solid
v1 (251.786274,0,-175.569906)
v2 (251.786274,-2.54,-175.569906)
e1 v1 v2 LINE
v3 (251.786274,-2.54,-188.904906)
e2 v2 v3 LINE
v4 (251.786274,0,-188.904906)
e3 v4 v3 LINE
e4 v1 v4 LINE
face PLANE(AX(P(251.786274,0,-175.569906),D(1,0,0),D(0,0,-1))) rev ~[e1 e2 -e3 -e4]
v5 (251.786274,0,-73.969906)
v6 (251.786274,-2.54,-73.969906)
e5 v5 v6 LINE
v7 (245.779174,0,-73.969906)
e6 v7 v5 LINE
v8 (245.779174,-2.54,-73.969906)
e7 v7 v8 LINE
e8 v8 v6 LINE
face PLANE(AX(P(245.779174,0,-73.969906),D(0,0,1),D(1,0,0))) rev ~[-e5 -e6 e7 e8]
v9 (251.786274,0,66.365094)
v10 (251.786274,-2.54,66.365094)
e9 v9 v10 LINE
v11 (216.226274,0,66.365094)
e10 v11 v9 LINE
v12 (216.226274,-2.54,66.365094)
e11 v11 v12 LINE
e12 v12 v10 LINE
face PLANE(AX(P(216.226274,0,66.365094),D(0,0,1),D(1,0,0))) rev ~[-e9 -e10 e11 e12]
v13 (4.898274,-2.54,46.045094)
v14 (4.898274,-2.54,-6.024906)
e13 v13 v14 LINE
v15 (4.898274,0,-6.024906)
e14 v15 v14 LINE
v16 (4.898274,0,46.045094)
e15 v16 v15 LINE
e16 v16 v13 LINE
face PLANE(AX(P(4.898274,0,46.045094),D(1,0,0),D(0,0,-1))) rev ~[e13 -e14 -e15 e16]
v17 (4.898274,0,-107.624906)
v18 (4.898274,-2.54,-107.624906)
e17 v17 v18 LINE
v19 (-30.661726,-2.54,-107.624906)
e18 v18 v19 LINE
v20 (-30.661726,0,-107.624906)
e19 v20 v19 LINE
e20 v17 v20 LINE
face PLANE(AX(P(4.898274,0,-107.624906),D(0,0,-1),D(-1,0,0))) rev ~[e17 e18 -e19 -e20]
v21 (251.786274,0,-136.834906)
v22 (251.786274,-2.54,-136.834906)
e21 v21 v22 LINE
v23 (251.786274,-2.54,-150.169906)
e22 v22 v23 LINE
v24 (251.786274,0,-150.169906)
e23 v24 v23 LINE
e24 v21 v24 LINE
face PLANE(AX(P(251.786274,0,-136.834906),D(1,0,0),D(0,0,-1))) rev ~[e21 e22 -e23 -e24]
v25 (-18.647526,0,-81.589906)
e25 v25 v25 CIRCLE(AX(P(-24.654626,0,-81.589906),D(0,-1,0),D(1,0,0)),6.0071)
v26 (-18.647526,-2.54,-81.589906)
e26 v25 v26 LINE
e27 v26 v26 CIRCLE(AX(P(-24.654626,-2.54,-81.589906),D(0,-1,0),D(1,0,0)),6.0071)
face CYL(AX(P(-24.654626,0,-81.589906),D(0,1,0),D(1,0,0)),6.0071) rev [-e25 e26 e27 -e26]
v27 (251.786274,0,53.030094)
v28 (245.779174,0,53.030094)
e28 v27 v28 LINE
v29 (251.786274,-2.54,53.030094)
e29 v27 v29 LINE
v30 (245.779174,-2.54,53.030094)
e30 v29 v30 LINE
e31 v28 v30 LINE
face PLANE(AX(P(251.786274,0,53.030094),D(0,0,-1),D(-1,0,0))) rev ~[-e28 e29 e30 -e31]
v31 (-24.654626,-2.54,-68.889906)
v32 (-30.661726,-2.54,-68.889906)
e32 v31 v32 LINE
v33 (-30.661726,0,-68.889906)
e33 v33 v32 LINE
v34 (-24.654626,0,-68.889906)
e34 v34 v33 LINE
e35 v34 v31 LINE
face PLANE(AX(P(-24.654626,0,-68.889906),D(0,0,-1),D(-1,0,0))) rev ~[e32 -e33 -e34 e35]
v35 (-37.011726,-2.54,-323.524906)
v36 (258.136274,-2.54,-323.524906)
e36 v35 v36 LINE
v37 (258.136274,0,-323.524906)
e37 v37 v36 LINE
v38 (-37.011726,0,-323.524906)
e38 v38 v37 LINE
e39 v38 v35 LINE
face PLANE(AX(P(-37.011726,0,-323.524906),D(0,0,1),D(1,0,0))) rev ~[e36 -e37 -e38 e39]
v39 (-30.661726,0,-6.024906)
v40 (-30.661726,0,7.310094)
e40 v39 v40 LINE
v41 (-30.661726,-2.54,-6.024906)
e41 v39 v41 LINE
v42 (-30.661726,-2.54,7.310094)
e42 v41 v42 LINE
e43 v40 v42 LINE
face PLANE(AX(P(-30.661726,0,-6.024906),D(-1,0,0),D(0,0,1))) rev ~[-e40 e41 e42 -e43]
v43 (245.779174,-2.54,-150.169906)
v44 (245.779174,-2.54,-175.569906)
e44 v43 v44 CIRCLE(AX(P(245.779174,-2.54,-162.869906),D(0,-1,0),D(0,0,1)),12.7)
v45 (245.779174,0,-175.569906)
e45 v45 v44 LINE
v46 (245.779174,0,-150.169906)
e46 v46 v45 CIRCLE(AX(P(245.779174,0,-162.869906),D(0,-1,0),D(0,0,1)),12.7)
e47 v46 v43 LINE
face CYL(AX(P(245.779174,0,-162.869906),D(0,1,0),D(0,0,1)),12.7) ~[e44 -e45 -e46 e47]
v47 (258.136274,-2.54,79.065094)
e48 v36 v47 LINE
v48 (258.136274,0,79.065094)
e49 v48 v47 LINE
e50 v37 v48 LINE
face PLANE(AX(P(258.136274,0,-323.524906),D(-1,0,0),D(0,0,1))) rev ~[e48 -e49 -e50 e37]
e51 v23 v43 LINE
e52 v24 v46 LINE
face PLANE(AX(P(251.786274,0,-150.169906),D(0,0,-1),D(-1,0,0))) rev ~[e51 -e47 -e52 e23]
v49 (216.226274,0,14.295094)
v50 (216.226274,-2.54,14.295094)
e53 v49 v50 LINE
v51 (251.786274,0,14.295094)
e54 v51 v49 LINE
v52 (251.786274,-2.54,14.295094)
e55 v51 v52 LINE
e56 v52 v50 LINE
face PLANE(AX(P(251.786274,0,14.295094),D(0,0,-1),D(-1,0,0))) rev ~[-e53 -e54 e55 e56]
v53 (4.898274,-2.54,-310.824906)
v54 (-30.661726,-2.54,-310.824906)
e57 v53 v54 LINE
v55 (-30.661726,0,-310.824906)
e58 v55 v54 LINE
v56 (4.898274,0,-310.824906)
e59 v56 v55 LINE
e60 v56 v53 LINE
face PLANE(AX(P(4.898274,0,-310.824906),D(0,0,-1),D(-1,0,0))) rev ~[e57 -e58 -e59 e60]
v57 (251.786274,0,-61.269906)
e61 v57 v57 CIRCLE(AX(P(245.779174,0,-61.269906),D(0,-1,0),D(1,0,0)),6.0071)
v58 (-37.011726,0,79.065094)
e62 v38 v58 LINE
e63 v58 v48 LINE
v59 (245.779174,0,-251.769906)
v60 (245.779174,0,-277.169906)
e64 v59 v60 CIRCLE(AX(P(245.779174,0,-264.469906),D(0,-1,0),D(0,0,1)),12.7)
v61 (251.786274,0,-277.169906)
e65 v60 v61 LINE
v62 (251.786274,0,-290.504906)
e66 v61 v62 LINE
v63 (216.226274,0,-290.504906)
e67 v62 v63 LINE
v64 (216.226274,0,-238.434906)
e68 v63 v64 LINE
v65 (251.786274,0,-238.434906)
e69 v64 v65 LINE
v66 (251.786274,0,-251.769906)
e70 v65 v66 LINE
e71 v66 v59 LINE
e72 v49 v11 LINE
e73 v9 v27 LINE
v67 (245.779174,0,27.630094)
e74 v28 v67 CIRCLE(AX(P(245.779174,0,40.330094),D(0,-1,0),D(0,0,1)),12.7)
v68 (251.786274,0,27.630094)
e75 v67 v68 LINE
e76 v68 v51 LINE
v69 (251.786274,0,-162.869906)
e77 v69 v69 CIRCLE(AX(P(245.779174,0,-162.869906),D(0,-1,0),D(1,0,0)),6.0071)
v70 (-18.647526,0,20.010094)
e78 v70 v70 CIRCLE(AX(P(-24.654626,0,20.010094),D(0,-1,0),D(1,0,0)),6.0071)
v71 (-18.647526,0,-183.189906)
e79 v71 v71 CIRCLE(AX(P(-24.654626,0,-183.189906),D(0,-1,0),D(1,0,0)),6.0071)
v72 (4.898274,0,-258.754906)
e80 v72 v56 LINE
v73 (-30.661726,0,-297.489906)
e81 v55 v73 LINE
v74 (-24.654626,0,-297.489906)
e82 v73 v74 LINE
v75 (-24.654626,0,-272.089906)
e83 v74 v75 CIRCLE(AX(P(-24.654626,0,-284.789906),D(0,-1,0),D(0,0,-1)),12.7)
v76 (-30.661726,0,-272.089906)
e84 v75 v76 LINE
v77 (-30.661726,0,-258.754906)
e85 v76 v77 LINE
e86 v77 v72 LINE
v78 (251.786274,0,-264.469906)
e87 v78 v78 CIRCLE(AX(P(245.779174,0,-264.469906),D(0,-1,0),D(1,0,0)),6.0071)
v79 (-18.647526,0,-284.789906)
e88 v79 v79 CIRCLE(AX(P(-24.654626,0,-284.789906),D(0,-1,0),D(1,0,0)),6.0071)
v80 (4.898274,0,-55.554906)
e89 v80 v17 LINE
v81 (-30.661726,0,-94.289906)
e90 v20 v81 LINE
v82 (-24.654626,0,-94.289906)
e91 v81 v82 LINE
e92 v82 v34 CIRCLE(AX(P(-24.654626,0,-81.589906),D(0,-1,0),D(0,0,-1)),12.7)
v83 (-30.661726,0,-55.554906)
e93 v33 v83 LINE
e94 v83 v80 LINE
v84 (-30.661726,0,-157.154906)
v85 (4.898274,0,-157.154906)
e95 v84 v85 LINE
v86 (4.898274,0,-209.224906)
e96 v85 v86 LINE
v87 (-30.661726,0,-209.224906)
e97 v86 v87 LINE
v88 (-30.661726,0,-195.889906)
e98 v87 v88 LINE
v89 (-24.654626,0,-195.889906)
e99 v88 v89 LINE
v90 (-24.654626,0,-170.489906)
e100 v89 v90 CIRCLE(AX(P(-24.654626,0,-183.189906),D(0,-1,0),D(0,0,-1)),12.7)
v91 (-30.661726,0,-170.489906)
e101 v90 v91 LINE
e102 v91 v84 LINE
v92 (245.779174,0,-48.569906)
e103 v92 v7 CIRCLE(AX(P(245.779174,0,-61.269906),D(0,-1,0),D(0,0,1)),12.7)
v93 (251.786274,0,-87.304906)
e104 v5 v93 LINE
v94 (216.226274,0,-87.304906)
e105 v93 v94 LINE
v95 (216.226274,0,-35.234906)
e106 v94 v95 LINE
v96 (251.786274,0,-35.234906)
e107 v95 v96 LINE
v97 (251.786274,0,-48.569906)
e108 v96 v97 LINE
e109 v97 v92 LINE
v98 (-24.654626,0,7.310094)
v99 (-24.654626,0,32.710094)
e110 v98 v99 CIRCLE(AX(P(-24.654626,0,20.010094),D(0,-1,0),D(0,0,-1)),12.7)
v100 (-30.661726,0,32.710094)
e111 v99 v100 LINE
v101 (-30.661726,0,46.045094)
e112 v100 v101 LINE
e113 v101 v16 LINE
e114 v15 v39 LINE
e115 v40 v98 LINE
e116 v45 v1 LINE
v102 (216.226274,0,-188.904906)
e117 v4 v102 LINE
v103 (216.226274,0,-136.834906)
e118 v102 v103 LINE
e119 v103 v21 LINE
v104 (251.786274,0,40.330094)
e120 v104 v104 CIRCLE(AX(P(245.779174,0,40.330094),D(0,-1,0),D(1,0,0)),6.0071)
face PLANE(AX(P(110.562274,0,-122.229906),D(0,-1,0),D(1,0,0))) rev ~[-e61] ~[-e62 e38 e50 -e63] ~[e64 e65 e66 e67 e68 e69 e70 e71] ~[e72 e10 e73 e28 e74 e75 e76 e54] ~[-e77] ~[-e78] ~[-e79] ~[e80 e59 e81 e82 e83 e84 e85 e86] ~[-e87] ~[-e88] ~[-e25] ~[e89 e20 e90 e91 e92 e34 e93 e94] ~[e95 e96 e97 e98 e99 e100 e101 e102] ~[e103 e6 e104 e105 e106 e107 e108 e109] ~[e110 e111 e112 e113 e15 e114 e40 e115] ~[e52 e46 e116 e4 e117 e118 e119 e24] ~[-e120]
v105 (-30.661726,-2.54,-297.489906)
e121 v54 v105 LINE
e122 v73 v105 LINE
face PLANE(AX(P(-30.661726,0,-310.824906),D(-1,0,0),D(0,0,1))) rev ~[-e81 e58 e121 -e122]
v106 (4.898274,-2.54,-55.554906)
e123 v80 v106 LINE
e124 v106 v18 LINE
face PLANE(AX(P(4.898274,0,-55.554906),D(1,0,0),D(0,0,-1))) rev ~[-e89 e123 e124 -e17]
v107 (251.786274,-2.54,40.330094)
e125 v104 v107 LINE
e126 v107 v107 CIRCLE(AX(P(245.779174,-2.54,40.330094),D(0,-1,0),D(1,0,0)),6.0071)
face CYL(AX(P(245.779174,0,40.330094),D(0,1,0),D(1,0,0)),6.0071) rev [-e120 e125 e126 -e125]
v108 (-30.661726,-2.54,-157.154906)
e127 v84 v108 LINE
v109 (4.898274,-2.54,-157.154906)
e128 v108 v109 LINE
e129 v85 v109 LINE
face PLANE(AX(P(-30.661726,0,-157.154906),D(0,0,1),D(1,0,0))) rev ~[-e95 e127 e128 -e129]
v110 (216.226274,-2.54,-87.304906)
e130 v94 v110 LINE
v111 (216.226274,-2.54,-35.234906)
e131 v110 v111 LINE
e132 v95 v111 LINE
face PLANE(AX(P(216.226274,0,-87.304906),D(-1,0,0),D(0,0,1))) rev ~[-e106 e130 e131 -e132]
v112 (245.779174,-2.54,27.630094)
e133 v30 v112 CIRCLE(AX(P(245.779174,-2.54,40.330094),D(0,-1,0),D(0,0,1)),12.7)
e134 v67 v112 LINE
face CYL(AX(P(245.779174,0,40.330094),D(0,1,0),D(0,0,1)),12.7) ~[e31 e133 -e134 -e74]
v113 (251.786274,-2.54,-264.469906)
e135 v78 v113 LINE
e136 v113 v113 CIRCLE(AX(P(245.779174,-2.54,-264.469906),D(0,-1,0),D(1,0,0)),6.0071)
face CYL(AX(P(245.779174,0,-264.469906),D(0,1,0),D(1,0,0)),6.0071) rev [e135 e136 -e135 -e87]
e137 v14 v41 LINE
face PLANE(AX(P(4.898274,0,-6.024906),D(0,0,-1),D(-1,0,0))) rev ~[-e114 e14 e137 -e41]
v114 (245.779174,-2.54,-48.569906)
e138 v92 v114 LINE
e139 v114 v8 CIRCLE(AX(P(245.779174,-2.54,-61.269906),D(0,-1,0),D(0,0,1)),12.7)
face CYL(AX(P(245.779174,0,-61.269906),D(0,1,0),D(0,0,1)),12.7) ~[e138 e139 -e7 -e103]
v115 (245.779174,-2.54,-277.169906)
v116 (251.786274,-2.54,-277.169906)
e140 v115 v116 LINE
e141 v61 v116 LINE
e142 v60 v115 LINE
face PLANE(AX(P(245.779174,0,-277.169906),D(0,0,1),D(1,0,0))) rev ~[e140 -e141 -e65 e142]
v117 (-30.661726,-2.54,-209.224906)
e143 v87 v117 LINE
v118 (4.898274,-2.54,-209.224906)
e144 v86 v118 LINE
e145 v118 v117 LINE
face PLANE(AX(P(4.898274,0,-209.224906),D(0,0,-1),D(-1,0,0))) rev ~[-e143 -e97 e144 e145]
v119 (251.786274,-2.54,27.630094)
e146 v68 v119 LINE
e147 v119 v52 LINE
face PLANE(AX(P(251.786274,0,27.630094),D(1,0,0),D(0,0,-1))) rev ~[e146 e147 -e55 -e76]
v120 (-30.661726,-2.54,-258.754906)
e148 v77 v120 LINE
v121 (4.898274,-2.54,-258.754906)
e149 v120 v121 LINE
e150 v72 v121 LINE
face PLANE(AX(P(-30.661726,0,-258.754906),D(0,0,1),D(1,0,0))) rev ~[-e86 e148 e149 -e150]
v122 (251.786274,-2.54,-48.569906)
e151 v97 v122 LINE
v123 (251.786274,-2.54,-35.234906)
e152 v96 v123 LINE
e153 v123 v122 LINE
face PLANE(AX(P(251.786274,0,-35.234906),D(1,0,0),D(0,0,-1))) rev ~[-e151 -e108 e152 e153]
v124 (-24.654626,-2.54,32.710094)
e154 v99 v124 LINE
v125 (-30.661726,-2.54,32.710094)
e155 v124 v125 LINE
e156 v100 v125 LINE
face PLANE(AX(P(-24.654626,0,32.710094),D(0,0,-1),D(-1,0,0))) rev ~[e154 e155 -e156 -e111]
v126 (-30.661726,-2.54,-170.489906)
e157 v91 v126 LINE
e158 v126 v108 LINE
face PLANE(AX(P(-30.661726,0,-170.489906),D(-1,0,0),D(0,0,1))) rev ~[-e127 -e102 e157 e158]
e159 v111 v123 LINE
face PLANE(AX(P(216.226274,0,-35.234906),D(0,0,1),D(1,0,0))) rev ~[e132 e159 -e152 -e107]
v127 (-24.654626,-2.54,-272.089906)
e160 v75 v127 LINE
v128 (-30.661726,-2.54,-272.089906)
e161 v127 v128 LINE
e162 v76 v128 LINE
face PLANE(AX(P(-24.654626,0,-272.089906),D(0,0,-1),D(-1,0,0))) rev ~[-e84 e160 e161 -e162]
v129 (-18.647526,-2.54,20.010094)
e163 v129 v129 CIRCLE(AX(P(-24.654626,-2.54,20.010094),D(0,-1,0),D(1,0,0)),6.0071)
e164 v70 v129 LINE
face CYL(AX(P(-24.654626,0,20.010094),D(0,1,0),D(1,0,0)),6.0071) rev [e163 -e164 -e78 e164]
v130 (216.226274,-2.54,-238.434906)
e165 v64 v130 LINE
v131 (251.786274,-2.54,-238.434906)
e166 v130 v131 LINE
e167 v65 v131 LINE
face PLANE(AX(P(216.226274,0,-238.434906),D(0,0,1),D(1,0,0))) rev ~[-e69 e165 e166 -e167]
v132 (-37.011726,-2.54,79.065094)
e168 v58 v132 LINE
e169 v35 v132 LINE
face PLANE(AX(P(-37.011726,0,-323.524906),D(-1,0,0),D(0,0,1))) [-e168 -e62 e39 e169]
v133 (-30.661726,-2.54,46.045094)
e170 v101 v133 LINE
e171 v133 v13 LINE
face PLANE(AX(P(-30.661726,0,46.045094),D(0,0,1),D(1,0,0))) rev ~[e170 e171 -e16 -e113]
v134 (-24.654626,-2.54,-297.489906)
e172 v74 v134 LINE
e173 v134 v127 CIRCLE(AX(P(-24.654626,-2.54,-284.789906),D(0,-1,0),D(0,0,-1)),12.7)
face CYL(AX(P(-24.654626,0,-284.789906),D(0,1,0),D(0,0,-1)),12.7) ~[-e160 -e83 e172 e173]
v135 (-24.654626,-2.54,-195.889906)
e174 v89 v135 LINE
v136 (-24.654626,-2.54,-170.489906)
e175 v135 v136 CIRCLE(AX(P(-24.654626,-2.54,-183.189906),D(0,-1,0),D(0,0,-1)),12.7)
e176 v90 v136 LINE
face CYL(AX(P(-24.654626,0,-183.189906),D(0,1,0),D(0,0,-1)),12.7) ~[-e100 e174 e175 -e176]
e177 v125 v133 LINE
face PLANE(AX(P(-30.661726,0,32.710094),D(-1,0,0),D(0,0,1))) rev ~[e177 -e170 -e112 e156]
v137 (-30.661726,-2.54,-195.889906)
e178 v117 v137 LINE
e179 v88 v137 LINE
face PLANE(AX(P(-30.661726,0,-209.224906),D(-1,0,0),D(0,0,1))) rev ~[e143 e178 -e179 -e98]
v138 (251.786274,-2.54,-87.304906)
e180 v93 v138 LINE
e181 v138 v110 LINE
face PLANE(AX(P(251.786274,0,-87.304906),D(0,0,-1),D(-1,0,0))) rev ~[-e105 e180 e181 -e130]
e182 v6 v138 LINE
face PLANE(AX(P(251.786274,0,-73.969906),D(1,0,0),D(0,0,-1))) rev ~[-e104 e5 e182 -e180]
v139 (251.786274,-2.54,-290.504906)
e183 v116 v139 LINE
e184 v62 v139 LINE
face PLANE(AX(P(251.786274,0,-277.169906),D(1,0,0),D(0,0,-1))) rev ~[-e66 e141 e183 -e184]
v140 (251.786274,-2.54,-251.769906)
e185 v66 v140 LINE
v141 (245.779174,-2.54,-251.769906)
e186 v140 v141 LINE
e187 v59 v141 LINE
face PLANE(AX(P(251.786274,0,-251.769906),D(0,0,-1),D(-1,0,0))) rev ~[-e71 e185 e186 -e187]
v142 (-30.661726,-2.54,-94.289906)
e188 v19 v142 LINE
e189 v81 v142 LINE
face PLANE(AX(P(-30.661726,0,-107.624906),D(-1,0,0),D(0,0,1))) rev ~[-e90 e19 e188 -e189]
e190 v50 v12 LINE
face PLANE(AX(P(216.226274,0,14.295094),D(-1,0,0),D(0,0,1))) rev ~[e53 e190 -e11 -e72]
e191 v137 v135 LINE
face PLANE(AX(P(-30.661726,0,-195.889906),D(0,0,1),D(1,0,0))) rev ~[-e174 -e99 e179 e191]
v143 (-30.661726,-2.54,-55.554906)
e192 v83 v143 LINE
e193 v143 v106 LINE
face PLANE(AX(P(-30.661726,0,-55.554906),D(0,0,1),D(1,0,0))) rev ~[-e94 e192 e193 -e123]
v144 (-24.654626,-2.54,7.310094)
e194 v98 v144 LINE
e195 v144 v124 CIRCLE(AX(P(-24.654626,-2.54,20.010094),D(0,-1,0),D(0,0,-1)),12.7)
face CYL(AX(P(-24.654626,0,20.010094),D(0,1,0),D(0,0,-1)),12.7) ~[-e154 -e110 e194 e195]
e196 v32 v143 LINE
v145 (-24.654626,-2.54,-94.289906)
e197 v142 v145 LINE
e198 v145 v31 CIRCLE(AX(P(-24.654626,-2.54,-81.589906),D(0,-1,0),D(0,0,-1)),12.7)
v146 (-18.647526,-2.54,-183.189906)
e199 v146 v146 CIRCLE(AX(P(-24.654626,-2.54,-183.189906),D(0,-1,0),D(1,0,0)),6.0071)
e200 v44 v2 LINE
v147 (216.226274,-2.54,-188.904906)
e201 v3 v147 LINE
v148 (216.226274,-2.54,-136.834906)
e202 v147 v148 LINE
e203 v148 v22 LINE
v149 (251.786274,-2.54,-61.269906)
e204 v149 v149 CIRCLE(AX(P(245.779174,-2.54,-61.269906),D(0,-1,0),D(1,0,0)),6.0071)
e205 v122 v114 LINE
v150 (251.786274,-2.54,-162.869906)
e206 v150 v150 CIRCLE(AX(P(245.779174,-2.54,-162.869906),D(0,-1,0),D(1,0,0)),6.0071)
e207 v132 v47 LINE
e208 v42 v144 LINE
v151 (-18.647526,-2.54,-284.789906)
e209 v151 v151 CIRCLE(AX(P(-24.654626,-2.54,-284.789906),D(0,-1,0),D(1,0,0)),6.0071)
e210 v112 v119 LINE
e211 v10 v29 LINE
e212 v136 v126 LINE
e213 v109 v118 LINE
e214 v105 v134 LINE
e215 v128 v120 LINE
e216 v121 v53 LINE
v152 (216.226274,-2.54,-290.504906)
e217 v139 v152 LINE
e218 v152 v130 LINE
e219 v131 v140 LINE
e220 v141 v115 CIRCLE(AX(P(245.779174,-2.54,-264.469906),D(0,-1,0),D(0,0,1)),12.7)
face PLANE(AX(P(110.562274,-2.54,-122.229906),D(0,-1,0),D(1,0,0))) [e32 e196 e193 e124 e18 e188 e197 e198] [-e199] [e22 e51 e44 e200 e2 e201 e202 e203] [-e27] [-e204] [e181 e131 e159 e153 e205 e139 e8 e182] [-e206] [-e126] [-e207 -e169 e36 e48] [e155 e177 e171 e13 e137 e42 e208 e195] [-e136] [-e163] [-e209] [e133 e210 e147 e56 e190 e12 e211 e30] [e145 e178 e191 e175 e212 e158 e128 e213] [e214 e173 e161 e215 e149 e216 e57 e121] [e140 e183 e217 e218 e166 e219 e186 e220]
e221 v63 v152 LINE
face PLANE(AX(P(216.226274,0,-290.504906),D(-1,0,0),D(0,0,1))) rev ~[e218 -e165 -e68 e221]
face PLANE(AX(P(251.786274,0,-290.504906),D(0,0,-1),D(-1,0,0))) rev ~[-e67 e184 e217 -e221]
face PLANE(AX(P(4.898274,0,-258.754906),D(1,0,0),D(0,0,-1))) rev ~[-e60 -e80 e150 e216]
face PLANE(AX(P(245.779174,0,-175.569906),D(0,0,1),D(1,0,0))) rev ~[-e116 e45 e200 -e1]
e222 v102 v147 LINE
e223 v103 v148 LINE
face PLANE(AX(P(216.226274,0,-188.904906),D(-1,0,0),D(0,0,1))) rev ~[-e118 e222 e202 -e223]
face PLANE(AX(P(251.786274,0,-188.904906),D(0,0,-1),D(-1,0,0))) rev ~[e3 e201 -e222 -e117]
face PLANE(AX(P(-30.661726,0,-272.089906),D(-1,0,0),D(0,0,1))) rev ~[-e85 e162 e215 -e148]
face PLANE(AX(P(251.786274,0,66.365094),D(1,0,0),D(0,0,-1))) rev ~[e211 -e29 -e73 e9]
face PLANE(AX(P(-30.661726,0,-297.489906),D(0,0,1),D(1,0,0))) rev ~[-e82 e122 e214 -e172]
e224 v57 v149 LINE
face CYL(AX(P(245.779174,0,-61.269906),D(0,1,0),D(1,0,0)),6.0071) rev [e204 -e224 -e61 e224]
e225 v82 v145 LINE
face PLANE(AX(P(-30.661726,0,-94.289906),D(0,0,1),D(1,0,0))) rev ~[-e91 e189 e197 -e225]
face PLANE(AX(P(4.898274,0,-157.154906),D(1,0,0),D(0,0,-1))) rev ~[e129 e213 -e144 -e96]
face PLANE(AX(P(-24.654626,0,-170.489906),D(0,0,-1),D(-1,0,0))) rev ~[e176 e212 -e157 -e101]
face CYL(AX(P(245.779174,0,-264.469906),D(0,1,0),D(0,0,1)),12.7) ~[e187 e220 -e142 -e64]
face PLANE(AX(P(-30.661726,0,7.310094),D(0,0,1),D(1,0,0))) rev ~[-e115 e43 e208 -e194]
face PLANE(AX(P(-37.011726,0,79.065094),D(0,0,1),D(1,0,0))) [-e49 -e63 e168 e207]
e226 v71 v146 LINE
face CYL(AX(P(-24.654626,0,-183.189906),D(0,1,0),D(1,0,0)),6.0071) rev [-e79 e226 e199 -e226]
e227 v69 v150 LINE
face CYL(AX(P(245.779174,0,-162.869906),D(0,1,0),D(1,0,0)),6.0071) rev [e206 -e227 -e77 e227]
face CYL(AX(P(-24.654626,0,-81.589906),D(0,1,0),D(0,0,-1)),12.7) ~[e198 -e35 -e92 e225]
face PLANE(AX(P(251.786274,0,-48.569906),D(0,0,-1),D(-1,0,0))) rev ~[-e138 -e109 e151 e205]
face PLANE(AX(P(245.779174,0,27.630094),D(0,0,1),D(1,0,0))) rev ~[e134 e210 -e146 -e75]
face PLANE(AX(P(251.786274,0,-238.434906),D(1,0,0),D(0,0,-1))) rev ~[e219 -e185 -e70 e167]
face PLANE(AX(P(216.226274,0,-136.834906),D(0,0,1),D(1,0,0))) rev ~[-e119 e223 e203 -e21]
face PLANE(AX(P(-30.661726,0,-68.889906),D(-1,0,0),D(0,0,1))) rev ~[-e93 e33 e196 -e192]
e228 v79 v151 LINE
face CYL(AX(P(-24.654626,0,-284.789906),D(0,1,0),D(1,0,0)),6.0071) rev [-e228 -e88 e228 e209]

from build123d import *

# Parameters (mm, degrees)
F0_W     = 295.148
F0_H     = 402.59
F0_R     = 6.0071
F1_DEPTH = 2.54


with BuildPart() as f1:
    # F0 (on Front) → F1 (new body)
    with BuildSketch(Plane.XZ):
        with Locations((110.562274, -122.229906)):
            Rectangle(F0_W, F0_H)
        with Locations((-24.654626, -284.789906)):
            Circle(F0_R, mode=Mode.SUBTRACT)
        with BuildLine():
            Line((-30.661726, -258.754906), (4.898274, -258.754906))
            Line((4.898274, -258.754906), (4.898274, -310.824906))
            Line((4.898274, -310.824906), (-30.661726, -310.824906))
            Line((-30.661726, -310.824906), (-30.661726, -297.489906))
            Line((-30.661726, -297.489906), (-24.654626, -297.489906))
            ThreePointArc((-24.654626, -297.489906), (-11.954626, -284.789906), (-24.654626, -272.089906))
            Line((-24.654626, -272.089906), (-30.661726, -272.089906))
            Line((-30.661726, -272.089906), (-30.661726, -258.754906))
        make_face(mode=Mode.SUBTRACT)
        with Locations((-24.654626, -183.189906)):
            Circle(F0_R, mode=Mode.SUBTRACT)
        with BuildLine():
            Line((-30.661726, -157.154906), (4.898274, -157.154906))
            Line((4.898274, -157.154906), (4.898274, -209.224906))
            Line((4.898274, -209.224906), (-30.661726, -209.224906))
            Line((-30.661726, -209.224906), (-30.661726, -195.889906))
            Line((-30.661726, -195.889906), (-24.654626, -195.889906))
            ThreePointArc((-24.654626, -195.889906), (-11.954626, -183.189906), (-24.654626, -170.489906))
            Line((-24.654626, -170.489906), (-30.661726, -170.489906))
            Line((-30.661726, -170.489906), (-30.661726, -157.154906))
        make_face(mode=Mode.SUBTRACT)
        with BuildLine():
            Line((251.786274, -290.504906), (216.226274, -290.504906))
            Line((216.226274, -290.504906), (216.226274, -238.434906))
            Line((216.226274, -238.434906), (251.786274, -238.434906))
            Line((251.786274, -238.434906), (251.786274, -251.769906))
            Line((251.786274, -251.769906), (245.779174, -251.769906))
            ThreePointArc((245.779174, -251.769906), (233.079174, -264.469906), (245.779174, -277.169906))
            Line((245.779174, -277.169906), (251.786274, -277.169906))
            Line((251.786274, -277.169906), (251.786274, -290.504906))
        make_face(mode=Mode.SUBTRACT)
        with Locations((245.779174, -264.469906)):
            Circle(F0_R, mode=Mode.SUBTRACT)
        with BuildLine():
            Line((251.786274, -150.169906), (245.779174, -150.169906))
            ThreePointArc((245.779174, -150.169906), (233.079174, -162.869906), (245.779174, -175.569906))
            Line((245.779174, -175.569906), (251.786274, -175.569906))
            Line((251.786274, -175.569906), (251.786274, -188.904906))
            Line((251.786274, -188.904906), (216.226274, -188.904906))
            Line((216.226274, -188.904906), (216.226274, -136.834906))
            Line((216.226274, -136.834906), (251.786274, -136.834906))
            Line((251.786274, -136.834906), (251.786274, -150.169906))
        make_face(mode=Mode.SUBTRACT)
        with Locations((245.779174, -162.869906)):
            Circle(F0_R, mode=Mode.SUBTRACT)
        with Locations((-24.654626, -81.589906)):
            Circle(F0_R, mode=Mode.SUBTRACT)
        with BuildLine():
            Line((-30.661726, -55.554906), (4.898274, -55.554906))
            Line((4.898274, -55.554906), (4.898274, -107.624906))
            Line((4.898274, -107.624906), (-30.661726, -107.624906))
            Line((-30.661726, -107.624906), (-30.661726, -94.289906))
            Line((-30.661726, -94.289906), (-24.654626, -94.289906))
            ThreePointArc((-24.654626, -94.289906), (-11.954626, -81.589906), (-24.654626, -68.889906))
            Line((-24.654626, -68.889906), (-30.661726, -68.889906))
            Line((-30.661726, -68.889906), (-30.661726, -55.554906))
        make_face(mode=Mode.SUBTRACT)
        with Locations((-24.654626, 20.010094)):
            Circle(F0_R, mode=Mode.SUBTRACT)
        with BuildLine():
            Line((-30.661726, 32.710094), (-30.661726, 46.045094))
            Line((-30.661726, 46.045094), (4.898274, 46.045094))
            Line((4.898274, 46.045094), (4.898274, -6.024906))
            Line((4.898274, -6.024906), (-30.661726, -6.024906))
            Line((-30.661726, -6.024906), (-30.661726, 7.310094))
            Line((-30.661726, 7.310094), (-24.654626, 7.310094))
            ThreePointArc((-24.654626, 7.310094), (-11.954626, 20.010094), (-24.654626, 32.710094))
            Line((-24.654626, 32.710094), (-30.661726, 32.710094))
        make_face(mode=Mode.SUBTRACT)
        with BuildLine():
            Line((216.226274, -35.234906), (251.786274, -35.234906))
            Line((251.786274, -35.234906), (251.786274, -48.569906))
            Line((251.786274, -48.569906), (245.779174, -48.569906))
            ThreePointArc((245.779174, -48.569906), (233.079174, -61.269906), (245.779174, -73.969906))
            Line((245.779174, -73.969906), (251.786274, -73.969906))
            Line((251.786274, -73.969906), (251.786274, -87.304906))
            Line((251.786274, -87.304906), (216.226274, -87.304906))
            Line((216.226274, -87.304906), (216.226274, -35.234906))
        make_face(mode=Mode.SUBTRACT)
        with Locations((245.779174, -61.269906)):
            Circle(F0_R, mode=Mode.SUBTRACT)
        with BuildLine():
            Line((251.786274, 27.630094), (251.786274, 14.295094))
            Line((251.786274, 14.295094), (216.226274, 14.295094))
            Line((216.226274, 14.295094), (216.226274, 66.365094))
            Line((216.226274, 66.365094), (251.786274, 66.365094))
            Line((251.786274, 66.365094), (251.786274, 53.030094))
            Line((251.786274, 53.030094), (245.779174, 53.030094))
            ThreePointArc((245.779174, 53.030094), (233.079174, 40.330094), (245.779174, 27.630094))
            Line((245.779174, 27.630094), (251.786274, 27.630094))
        make_face(mode=Mode.SUBTRACT)
        with Locations((245.779174, 40.330094)):
            Circle(F0_R, mode=Mode.SUBTRACT)
    extrude(amount=F1_DEPTH)


solid = f1.part
